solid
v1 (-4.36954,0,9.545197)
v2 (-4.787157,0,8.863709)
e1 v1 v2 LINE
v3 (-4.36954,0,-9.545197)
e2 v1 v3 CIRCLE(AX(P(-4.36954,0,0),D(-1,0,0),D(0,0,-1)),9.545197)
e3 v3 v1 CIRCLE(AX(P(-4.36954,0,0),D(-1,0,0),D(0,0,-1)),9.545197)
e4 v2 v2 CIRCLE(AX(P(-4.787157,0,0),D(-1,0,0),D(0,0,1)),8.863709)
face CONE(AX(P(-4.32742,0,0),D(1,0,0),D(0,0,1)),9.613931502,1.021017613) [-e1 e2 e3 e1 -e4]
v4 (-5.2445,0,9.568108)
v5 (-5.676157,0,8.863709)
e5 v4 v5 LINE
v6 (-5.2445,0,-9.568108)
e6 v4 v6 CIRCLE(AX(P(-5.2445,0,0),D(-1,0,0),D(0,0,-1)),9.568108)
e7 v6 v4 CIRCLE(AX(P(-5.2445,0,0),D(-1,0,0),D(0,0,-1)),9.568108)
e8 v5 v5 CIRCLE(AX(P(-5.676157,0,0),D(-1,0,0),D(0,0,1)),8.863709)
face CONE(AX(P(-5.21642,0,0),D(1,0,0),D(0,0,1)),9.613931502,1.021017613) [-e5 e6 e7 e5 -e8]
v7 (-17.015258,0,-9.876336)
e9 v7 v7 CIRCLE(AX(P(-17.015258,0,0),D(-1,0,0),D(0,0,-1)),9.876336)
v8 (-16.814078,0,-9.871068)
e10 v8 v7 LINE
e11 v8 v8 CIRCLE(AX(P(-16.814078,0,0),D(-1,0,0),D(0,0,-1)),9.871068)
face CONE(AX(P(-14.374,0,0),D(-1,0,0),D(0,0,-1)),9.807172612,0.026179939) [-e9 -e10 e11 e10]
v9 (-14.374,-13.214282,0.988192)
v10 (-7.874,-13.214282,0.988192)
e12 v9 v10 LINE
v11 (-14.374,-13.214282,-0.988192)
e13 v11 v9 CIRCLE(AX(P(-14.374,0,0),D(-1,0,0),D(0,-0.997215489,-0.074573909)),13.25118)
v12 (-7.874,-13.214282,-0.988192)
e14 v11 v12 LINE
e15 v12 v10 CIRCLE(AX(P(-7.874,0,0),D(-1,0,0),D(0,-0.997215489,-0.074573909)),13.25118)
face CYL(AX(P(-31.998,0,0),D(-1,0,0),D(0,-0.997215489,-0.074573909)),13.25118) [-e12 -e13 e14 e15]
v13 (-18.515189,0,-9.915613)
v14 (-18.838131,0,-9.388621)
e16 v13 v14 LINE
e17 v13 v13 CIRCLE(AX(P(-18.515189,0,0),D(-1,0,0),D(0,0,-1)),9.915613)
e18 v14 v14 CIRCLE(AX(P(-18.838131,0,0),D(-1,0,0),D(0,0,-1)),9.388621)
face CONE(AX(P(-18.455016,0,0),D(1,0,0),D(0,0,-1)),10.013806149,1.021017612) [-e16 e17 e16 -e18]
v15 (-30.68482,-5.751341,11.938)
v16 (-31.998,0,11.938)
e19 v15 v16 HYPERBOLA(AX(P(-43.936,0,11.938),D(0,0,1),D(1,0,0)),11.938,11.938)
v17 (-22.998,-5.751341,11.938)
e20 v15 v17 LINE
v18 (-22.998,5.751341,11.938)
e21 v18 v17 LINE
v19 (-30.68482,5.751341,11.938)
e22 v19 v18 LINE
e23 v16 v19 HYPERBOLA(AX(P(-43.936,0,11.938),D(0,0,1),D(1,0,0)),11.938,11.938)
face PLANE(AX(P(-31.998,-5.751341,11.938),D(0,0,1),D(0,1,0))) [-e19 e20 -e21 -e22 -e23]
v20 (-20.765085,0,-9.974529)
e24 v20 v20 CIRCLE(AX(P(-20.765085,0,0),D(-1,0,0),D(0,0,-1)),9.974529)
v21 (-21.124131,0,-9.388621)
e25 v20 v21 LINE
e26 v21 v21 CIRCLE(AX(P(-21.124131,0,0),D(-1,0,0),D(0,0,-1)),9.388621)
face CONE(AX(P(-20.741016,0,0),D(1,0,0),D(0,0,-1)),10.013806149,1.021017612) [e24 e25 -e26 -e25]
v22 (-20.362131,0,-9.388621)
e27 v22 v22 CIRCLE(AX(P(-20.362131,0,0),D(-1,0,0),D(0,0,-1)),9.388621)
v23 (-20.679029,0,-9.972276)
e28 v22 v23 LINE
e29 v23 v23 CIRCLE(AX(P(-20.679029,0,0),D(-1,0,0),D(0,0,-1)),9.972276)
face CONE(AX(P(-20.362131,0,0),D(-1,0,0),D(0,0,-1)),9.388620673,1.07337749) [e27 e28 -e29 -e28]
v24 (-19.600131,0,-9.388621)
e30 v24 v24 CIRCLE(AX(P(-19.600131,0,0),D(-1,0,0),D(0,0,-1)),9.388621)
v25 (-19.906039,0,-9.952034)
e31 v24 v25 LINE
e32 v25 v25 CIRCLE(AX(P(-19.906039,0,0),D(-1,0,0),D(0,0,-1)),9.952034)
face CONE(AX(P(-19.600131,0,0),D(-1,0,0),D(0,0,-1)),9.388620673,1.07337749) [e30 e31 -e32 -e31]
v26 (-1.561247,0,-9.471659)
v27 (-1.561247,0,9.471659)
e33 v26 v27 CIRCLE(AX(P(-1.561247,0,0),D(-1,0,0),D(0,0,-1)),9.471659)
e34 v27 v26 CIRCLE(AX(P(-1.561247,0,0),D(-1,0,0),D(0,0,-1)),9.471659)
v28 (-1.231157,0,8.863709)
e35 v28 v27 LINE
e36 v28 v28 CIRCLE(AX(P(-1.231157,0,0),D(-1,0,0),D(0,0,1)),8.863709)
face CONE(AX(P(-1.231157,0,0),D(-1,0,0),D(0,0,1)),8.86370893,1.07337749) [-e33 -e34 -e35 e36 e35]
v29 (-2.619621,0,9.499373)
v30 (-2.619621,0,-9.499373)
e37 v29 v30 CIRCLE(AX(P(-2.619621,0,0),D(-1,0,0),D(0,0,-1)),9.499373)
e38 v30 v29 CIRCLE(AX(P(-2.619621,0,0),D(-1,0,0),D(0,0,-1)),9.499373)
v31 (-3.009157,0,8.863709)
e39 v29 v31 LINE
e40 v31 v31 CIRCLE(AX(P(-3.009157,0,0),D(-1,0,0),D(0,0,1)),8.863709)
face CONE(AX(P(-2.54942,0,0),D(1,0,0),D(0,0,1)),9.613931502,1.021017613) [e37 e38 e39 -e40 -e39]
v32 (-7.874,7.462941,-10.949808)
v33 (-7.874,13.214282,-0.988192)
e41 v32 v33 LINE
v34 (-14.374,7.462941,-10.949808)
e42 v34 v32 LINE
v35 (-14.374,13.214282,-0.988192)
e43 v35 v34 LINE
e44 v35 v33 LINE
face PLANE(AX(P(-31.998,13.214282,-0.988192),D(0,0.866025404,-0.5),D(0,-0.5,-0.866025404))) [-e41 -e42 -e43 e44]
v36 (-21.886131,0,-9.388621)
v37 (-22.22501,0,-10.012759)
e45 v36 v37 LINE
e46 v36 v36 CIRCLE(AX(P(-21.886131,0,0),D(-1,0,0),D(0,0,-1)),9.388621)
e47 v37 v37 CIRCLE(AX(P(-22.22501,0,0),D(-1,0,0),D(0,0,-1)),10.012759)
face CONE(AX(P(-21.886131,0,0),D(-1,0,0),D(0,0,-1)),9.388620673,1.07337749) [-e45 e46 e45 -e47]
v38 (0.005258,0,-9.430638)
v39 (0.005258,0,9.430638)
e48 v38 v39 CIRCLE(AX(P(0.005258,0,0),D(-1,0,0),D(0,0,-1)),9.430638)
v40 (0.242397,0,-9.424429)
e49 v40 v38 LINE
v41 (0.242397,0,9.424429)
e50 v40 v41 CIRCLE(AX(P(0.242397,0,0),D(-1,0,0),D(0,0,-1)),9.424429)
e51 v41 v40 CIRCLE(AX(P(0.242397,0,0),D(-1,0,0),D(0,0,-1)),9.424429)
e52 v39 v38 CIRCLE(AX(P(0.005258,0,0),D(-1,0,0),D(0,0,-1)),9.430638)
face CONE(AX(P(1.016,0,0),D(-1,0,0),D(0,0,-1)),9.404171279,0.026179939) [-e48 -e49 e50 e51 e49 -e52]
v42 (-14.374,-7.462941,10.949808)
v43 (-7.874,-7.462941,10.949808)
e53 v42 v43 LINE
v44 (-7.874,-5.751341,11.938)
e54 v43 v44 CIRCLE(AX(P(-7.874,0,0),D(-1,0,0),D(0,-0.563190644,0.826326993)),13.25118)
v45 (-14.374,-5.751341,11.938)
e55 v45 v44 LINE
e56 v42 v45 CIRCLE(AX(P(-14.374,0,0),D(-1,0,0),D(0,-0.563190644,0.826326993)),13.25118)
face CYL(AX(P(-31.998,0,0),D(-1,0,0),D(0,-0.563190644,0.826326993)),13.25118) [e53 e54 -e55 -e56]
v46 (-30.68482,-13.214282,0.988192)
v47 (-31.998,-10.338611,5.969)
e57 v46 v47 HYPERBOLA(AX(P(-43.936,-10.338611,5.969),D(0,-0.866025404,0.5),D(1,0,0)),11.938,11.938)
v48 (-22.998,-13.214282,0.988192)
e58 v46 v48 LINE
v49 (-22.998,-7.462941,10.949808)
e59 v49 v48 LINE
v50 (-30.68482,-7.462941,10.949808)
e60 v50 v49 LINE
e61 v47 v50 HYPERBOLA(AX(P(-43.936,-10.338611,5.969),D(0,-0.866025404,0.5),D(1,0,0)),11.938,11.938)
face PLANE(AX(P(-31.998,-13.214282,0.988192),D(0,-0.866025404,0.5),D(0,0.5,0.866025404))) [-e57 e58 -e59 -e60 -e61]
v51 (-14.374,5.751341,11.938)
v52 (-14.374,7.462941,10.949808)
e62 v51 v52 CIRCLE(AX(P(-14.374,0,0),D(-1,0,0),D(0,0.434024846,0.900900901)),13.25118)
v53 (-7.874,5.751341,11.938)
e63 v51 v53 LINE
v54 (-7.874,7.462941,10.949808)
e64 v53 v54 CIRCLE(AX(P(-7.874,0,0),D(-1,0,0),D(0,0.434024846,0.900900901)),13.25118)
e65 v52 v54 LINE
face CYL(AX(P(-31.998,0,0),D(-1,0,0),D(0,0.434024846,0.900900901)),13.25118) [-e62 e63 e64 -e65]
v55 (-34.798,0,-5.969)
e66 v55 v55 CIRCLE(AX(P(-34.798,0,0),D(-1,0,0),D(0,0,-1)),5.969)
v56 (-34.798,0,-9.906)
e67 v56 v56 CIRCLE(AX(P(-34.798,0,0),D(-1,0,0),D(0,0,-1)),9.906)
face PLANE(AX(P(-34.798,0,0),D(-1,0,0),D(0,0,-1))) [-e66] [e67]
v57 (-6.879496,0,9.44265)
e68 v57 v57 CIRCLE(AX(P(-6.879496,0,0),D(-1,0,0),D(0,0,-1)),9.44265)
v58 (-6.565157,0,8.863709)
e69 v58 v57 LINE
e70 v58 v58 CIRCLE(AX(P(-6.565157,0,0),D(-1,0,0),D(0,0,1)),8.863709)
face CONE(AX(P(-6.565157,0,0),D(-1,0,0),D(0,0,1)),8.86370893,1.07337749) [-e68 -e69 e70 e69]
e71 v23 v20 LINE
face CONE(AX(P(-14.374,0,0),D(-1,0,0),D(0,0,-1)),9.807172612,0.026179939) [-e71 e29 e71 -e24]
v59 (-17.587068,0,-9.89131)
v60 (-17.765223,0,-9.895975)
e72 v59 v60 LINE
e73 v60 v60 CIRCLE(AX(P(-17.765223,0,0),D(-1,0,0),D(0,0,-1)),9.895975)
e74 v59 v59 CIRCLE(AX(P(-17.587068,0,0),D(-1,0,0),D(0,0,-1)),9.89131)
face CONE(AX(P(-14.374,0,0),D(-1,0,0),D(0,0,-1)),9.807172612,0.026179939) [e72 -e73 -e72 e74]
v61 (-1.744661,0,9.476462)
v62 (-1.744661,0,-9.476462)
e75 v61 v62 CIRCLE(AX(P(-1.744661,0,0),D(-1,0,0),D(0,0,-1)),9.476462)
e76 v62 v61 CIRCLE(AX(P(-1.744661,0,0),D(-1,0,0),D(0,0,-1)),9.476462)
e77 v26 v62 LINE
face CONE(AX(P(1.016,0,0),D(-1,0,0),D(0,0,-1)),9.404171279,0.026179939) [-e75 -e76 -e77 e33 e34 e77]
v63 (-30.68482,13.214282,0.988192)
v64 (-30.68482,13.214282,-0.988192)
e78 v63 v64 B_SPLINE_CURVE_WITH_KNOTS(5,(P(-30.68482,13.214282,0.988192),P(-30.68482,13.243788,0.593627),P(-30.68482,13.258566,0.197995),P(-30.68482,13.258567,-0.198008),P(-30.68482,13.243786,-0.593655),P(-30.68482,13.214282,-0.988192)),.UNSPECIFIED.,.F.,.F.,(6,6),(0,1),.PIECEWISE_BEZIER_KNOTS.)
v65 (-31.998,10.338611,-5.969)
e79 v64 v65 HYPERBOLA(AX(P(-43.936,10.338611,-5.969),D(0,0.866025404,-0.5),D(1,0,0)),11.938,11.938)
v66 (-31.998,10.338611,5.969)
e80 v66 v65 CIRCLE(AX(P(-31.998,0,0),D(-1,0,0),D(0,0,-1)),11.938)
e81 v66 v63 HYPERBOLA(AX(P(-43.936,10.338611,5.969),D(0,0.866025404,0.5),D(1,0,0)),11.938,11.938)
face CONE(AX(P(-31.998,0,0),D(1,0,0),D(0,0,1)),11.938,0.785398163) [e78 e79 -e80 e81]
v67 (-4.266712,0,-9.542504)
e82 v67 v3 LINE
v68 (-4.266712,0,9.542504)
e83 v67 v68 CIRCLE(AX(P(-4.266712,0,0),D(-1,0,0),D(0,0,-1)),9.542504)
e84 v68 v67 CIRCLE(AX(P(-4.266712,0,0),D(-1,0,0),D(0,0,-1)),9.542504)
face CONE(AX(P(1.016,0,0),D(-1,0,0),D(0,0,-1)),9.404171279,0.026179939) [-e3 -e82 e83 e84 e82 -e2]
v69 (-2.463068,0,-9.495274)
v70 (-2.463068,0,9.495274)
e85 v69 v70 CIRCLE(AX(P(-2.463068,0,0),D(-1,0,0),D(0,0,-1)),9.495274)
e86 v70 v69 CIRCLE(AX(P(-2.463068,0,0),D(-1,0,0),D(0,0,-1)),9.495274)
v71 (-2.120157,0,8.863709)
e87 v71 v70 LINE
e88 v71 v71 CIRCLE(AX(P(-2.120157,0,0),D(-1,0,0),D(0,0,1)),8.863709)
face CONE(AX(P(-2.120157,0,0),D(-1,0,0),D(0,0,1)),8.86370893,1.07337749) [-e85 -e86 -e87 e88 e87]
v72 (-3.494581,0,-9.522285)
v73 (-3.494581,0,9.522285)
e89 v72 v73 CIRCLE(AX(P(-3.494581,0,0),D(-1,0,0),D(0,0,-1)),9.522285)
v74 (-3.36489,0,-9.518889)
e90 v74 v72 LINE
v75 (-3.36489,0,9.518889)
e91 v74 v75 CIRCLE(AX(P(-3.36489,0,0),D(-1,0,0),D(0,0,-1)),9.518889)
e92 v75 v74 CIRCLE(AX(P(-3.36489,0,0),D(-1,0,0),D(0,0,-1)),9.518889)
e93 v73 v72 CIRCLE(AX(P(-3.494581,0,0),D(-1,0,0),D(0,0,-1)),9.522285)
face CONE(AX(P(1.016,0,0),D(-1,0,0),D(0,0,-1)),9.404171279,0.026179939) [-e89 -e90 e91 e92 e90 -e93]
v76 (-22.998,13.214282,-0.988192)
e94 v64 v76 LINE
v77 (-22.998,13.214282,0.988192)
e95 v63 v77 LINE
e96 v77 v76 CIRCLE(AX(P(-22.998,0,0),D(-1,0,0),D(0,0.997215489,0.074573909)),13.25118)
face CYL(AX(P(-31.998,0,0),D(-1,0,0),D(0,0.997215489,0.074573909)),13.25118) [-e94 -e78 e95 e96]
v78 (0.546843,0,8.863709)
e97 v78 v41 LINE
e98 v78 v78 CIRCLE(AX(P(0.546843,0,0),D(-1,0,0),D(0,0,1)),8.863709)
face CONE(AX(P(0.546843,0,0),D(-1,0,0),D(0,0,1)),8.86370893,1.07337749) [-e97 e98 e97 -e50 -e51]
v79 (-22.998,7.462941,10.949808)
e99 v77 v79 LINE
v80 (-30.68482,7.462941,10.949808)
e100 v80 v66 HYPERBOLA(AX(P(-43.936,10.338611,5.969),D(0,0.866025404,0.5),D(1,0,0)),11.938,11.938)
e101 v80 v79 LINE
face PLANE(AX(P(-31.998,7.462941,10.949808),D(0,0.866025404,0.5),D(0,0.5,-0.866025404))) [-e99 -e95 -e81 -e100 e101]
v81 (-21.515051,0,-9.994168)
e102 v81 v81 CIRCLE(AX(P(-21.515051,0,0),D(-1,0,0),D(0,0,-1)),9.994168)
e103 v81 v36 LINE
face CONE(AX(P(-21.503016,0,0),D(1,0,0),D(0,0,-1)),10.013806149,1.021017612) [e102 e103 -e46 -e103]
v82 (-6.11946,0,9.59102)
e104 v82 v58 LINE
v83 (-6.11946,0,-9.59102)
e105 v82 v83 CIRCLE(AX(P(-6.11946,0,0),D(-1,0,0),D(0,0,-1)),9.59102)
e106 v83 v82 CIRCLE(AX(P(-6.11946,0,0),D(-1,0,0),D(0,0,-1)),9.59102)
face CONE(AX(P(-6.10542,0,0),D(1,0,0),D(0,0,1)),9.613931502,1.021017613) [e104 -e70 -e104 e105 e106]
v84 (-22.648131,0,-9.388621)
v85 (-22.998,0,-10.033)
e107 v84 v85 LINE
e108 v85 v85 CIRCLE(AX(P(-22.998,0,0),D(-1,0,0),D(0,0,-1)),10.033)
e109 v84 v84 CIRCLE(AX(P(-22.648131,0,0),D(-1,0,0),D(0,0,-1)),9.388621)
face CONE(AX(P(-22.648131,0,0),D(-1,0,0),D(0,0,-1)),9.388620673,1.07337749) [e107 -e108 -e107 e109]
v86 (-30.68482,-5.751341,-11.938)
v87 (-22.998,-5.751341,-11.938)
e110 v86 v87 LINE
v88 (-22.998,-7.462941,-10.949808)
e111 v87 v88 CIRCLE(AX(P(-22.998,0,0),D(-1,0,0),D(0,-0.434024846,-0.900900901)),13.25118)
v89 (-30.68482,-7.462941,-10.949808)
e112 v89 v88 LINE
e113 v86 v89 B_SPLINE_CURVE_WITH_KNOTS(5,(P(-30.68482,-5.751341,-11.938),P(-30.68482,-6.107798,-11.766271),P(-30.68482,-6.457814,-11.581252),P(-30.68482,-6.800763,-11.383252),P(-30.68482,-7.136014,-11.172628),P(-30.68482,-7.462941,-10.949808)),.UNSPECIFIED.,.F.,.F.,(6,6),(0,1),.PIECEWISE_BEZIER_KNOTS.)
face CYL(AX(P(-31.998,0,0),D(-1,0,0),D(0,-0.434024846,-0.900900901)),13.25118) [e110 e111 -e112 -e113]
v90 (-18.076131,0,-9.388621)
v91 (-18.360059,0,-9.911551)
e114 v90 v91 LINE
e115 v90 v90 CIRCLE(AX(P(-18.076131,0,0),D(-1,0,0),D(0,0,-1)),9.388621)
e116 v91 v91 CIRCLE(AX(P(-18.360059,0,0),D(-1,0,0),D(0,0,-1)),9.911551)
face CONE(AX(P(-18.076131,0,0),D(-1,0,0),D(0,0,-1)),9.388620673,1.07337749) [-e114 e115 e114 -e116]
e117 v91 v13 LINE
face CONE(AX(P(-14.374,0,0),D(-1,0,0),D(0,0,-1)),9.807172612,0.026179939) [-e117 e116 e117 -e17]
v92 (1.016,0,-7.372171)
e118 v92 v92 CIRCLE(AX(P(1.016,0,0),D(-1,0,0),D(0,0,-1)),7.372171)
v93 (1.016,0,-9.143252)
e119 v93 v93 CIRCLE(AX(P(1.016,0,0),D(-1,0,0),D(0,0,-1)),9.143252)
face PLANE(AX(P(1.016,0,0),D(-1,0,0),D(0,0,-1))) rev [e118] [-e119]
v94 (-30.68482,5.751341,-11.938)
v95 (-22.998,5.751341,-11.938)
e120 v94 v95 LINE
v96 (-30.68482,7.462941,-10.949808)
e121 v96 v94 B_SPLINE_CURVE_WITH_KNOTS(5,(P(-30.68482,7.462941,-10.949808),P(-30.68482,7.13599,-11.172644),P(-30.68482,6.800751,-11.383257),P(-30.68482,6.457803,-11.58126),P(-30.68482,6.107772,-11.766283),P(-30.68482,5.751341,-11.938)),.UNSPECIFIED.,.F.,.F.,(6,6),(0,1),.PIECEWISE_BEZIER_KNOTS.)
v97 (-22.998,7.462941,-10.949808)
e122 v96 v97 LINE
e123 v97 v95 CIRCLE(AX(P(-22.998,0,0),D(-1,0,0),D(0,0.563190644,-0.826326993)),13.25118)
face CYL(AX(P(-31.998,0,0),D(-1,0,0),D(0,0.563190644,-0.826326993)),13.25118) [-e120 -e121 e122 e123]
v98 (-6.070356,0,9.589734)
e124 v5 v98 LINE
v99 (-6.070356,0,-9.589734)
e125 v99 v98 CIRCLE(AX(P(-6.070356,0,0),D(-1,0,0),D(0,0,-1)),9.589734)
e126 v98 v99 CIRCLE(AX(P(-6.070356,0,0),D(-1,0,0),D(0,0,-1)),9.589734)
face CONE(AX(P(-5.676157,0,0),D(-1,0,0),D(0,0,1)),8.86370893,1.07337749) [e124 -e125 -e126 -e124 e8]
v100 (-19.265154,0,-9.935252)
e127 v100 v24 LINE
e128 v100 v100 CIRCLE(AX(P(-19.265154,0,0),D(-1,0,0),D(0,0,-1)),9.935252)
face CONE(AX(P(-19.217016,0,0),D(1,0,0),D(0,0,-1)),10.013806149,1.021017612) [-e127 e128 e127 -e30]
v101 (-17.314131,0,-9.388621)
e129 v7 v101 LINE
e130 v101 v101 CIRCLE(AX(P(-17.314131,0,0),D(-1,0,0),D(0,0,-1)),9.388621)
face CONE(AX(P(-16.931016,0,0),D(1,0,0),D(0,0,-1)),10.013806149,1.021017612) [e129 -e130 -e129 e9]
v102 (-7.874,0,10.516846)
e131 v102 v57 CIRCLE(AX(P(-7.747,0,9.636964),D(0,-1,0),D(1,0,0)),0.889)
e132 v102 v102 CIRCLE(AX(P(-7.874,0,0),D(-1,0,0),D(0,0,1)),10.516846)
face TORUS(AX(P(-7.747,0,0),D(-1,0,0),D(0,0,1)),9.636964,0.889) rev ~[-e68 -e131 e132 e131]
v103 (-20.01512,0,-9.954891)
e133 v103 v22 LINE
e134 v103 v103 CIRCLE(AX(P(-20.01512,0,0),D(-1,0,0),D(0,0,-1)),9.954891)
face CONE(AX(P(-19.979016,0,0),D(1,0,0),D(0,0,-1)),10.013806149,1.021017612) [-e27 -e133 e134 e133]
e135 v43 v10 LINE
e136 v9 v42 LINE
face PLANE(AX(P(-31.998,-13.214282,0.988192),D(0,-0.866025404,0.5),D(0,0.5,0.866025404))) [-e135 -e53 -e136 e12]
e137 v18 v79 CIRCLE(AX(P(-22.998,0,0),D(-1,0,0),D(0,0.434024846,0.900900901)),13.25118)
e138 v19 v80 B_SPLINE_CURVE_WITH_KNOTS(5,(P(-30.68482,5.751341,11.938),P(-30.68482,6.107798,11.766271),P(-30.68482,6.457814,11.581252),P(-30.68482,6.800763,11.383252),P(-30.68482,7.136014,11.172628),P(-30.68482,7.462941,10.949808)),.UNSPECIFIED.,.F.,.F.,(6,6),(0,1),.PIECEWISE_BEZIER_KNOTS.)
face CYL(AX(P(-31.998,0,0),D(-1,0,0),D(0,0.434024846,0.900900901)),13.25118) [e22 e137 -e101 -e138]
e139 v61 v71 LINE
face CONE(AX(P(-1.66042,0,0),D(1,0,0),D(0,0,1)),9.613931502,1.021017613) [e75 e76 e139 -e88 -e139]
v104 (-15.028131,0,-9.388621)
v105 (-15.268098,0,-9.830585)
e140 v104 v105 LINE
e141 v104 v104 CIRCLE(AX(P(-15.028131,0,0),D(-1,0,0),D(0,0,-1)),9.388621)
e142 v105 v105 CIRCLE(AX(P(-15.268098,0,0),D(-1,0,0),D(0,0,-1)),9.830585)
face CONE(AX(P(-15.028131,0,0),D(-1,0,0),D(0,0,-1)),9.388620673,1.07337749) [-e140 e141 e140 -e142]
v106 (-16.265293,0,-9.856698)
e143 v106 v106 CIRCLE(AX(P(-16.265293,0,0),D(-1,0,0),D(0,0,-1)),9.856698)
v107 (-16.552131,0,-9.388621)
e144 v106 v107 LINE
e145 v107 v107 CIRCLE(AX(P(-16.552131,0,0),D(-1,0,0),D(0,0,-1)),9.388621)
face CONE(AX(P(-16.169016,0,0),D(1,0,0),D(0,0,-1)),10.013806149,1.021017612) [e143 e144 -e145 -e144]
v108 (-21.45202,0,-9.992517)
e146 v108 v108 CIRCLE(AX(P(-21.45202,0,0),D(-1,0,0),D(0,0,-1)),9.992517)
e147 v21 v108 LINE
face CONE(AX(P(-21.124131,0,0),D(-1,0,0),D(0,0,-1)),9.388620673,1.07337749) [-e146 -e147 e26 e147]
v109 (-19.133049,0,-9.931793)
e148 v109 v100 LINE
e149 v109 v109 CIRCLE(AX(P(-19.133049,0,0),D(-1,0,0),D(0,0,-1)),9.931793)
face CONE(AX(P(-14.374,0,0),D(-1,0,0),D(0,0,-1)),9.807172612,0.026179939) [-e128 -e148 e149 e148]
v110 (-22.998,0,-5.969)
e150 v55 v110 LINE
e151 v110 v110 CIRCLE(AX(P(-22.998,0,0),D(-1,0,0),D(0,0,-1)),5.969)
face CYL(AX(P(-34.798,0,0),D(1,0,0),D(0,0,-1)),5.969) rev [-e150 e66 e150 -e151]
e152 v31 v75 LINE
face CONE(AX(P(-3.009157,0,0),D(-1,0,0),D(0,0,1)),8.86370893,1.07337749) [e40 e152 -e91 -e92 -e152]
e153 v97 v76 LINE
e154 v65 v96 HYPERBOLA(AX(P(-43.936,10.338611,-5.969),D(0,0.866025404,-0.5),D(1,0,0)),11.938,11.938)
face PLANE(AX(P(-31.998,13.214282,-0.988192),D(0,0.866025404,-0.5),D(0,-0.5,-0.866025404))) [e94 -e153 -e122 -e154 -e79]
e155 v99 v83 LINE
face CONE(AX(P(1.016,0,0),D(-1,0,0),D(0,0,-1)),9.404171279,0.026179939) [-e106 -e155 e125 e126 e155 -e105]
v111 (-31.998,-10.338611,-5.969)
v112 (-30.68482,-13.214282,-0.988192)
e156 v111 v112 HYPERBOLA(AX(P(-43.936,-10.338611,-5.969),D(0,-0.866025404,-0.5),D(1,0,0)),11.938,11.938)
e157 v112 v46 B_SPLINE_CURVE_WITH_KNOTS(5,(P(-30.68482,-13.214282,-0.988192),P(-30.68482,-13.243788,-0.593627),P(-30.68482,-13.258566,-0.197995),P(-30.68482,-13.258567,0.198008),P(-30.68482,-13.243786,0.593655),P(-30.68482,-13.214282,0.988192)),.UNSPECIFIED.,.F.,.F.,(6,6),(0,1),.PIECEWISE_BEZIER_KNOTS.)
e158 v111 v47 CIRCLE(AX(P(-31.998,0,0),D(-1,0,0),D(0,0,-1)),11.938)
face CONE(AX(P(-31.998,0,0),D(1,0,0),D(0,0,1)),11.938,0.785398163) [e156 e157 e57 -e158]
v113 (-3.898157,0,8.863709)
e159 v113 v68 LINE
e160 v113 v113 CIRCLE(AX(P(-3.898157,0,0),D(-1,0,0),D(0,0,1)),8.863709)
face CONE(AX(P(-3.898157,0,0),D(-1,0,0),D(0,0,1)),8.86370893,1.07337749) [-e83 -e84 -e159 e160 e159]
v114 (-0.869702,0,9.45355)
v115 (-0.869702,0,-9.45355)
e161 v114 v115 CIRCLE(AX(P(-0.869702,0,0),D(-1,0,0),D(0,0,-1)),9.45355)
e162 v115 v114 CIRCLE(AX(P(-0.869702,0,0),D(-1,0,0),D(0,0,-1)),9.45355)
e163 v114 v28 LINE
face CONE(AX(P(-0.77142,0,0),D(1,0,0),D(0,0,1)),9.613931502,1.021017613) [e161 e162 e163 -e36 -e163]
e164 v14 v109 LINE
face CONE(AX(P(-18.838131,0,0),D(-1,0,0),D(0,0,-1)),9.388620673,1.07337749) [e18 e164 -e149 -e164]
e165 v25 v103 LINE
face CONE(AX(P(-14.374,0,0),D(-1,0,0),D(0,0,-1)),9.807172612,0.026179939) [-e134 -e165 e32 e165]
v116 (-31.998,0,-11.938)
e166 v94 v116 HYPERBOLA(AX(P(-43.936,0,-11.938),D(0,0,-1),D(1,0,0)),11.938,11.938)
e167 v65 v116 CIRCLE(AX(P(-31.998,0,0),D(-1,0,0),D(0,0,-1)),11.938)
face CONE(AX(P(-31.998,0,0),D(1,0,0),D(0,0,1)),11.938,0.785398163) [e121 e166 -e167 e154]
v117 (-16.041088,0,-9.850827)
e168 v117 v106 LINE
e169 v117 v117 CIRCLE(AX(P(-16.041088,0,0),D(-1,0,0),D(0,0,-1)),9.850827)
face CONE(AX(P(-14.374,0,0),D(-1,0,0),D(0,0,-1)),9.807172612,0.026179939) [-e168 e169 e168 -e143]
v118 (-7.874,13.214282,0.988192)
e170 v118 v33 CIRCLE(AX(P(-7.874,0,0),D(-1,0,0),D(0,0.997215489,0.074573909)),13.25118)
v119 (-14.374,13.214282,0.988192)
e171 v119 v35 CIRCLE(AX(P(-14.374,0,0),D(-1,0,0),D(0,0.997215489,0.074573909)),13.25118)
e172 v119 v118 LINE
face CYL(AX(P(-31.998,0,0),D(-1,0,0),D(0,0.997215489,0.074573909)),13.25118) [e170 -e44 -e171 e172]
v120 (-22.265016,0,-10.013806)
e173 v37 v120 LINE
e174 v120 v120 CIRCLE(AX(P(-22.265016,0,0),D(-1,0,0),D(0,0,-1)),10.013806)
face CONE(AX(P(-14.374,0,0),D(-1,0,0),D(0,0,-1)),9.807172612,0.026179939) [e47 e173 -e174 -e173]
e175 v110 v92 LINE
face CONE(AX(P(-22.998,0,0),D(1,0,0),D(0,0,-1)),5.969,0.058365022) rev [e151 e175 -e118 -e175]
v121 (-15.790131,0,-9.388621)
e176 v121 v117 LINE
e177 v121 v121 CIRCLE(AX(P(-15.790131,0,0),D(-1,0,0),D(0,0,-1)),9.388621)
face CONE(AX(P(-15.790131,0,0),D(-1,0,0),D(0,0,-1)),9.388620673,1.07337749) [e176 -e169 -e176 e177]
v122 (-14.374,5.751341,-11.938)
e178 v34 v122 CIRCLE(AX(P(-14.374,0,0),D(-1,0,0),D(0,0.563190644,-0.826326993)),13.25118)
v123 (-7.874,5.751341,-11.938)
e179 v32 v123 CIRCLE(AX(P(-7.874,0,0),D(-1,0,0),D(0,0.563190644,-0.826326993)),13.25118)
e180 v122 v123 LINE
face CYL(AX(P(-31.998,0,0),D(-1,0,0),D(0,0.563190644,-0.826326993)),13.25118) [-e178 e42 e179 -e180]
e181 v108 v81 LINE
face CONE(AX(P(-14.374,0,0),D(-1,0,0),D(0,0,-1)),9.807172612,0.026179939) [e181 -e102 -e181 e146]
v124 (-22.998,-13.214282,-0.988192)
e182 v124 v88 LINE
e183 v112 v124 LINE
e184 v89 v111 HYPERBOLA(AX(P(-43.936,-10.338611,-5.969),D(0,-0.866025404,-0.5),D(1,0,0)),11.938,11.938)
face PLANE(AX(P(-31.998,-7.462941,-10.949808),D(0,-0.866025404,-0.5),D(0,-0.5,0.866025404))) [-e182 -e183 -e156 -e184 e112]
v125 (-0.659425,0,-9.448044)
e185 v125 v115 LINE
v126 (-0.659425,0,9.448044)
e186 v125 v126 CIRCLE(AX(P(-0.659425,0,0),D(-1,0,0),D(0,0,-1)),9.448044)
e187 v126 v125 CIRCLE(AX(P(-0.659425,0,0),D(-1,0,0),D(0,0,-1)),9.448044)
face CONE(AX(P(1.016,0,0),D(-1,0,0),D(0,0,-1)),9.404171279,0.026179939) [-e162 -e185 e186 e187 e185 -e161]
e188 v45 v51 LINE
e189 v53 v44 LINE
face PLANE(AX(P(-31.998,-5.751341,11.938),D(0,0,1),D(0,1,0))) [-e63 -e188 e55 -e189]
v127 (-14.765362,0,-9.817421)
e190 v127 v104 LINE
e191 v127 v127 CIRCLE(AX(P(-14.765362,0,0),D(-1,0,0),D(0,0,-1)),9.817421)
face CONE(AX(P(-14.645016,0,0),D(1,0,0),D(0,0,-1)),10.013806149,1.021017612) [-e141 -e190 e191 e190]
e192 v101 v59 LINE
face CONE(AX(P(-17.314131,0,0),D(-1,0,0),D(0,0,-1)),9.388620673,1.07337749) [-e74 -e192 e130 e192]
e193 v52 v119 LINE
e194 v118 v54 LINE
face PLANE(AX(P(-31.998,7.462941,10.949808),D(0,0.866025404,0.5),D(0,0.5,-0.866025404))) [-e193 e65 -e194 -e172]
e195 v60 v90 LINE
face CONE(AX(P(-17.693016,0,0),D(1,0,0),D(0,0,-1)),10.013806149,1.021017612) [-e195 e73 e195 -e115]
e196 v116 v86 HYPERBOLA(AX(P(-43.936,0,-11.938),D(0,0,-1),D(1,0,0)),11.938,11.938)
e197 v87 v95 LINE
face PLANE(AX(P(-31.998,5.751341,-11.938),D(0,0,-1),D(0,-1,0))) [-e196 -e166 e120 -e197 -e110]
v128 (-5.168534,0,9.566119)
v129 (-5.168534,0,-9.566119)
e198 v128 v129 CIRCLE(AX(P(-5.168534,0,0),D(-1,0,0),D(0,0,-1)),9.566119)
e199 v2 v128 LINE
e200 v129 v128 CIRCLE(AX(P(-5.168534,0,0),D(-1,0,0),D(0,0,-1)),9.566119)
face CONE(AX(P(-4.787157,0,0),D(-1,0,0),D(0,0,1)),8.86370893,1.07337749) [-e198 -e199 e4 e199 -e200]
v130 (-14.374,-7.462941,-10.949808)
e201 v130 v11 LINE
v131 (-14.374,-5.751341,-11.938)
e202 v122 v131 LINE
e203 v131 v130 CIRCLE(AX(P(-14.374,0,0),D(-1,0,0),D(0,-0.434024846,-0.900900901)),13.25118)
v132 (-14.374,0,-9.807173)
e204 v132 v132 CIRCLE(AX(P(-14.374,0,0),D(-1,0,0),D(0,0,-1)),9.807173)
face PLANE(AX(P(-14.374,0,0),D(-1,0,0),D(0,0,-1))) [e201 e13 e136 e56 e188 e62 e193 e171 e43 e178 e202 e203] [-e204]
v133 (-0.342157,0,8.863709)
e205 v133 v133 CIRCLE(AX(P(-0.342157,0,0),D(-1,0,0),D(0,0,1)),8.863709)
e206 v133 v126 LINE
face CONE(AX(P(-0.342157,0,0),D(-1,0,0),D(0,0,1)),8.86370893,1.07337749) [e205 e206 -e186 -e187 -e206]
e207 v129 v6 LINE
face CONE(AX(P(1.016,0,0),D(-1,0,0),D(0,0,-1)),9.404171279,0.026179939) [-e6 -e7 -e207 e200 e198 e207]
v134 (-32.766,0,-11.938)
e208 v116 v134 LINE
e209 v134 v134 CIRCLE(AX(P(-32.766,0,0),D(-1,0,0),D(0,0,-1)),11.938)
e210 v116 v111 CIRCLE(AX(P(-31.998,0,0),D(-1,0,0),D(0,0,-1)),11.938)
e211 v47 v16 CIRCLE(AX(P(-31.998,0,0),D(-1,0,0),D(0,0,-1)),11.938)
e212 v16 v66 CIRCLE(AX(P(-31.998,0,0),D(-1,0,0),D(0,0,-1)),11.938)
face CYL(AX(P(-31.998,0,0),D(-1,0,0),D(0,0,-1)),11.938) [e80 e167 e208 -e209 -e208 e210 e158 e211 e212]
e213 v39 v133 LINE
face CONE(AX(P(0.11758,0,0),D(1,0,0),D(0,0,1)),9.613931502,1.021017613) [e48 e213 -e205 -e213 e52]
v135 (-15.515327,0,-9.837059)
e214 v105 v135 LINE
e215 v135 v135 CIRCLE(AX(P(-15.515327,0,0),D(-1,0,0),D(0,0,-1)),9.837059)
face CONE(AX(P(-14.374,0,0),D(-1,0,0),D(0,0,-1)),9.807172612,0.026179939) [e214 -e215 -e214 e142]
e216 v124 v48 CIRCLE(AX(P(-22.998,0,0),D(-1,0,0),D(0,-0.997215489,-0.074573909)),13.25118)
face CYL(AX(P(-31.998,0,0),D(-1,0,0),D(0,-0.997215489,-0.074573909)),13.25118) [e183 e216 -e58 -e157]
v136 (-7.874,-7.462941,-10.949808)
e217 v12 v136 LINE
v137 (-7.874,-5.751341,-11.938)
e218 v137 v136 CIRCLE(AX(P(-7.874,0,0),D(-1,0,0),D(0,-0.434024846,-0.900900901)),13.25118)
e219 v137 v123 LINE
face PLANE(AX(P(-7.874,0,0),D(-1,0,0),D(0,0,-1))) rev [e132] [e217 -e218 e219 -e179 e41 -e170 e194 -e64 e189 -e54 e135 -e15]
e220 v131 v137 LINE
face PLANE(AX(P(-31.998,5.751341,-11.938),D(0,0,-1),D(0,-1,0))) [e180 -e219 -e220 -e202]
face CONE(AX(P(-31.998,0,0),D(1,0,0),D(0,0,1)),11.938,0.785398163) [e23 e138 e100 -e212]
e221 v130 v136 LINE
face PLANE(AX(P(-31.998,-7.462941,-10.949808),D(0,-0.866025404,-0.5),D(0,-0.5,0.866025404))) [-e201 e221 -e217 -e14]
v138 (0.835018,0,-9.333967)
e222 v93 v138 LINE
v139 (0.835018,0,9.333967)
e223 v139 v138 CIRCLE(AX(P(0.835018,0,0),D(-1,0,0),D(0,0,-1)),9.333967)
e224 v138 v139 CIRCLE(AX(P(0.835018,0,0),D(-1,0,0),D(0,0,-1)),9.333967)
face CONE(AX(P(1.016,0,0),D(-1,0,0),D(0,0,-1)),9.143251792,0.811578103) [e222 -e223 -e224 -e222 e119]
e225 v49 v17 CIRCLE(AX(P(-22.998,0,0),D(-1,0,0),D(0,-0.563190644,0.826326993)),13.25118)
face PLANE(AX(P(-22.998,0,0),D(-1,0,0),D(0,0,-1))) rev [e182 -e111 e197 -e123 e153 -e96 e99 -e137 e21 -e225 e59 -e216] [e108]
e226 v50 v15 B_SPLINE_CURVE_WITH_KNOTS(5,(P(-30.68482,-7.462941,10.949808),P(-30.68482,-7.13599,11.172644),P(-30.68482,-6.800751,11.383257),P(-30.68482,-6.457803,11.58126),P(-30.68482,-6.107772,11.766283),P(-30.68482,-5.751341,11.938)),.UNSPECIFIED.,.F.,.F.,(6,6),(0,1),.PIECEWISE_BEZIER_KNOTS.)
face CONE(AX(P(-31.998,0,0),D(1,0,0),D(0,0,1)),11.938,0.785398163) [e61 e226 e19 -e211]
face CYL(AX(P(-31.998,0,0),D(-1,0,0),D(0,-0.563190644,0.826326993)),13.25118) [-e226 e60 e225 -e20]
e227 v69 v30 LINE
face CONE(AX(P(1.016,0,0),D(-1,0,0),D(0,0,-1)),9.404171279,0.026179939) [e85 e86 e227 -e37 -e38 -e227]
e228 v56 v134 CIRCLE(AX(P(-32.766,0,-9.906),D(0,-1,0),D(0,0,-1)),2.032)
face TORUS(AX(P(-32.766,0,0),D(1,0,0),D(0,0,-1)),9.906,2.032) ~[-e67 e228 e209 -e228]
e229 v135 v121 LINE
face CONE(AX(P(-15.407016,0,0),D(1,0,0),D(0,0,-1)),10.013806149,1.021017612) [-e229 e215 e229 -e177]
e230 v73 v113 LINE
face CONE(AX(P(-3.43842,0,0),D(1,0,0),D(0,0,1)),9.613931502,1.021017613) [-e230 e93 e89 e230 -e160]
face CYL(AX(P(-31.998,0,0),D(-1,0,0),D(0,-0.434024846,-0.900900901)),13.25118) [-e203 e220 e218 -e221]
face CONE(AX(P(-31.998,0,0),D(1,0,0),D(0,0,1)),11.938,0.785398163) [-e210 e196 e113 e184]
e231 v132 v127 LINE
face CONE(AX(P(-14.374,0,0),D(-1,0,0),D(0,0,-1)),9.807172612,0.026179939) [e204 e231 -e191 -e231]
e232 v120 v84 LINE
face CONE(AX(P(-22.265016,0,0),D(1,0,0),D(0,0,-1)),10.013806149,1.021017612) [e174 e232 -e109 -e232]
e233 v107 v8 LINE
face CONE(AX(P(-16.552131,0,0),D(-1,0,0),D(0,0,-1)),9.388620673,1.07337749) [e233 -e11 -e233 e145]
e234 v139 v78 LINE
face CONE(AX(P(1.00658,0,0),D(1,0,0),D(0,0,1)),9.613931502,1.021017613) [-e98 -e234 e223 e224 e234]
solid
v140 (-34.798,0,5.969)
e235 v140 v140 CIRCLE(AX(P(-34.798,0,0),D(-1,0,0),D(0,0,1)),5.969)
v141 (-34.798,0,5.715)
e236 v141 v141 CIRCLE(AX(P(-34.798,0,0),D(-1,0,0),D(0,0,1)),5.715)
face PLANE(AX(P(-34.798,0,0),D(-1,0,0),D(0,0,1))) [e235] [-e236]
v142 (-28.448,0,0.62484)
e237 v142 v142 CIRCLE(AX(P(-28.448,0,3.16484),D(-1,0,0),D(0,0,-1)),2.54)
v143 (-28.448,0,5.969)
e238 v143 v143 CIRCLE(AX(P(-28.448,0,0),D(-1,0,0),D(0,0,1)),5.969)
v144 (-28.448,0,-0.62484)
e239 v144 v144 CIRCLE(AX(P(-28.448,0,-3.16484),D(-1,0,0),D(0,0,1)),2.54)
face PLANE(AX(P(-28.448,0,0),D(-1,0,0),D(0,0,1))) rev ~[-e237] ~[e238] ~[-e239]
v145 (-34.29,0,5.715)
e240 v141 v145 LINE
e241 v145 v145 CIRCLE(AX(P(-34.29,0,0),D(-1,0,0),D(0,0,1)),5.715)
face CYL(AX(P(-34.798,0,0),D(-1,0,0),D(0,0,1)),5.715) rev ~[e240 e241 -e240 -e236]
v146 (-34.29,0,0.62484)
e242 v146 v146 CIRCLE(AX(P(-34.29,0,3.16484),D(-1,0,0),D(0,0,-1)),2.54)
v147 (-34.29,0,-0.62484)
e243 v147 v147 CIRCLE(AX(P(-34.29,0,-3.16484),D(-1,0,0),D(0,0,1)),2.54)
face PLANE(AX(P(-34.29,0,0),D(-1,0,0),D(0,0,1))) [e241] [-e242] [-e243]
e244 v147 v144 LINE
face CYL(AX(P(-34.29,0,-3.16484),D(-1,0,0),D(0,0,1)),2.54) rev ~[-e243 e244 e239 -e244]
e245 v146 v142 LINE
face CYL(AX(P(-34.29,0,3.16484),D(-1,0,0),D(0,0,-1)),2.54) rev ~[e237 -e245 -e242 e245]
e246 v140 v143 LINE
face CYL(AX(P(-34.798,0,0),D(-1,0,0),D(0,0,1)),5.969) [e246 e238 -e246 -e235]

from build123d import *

# Parameters (mm, degrees)
SKETCH12_OUTSIDE_W = 65.04
SKETCH12_OUTSIDE_H = 65.04
CUT_EXTRUDE2_DEPTH = 34.014
FILLET4_R          = 2.032
SKETCH19_OUTSIDE_W = 39.986
SKETCH19_OUTSIDE_H = 42.612
SKETCH19_OUTSIDE_R = 11.938
CUT_EXTRUDE3_DEPTH = 1.999996
CUT_EXTRUDE3_DRAFT = -45
CHAMFER1_SIZE      = 0.260919487
CHAMFER1_SIZE2     = 0.254
SKETCH21_R         = 5.969
PLUG_DEPTH         = 6.35
SKETCH22_R         = 5.715
CUT_EXTRUDE4_DEPTH = 0.508
SKETCH27_R         = 2.54
PLUGHOLES_DEPTH    = 36.306
CIRPATTERN1_COUNT  = 2
LPATTERN1_COUNT    = 11
LPATTERN1_PITCH    = 0.762
LPATTERN2_COUNT    = 10
LPATTERN2_PITCH    = 0.889
SKETCH32_R         = 0.889


with BuildPart() as part:
    # Sketch10 → Revolve2 (revolve)
    with BuildSketch(Plane.XY, mode=Mode.PRIVATE) as revolve2_sk:
        Polygon((-34.798, 5.969), (-22.998, 5.969), (1.016, 7.372171279), (1.016, 9.404171279), (-7.874, 9.636964122), (-7.874, 23.876), (-14.374, 23.876), (-14.374, 9.807172612), (-22.998, 10.033), (-22.998, 23.876), (-31.998, 23.876), (-31.998, 11.938), (-34.798, 11.938), align=None)
    revolve(revolve2_sk.sketch.rotate(Axis((0, 0, 0), (-1, 0, 0)), 90), axis=Axis((0, 0, 0), (-1, 0, 0)))  # turned: the seam where the file's is

    # Sketch12 outside → Cut-Extrude2 (cut, through all)
    with BuildSketch(Plane.ZY.offset(31.998)):
        Rectangle(SKETCH12_OUTSIDE_W, SKETCH12_OUTSIDE_H)
        with BuildLine():
            Line((-0.98819228, 13.214281948), (-10.94980772, 7.462940592))
            ThreePointArc((-10.94980772, 7.462940592), (-11.47585851, 6.62559), (-11.938, 5.751341356))
            Line((-11.938, 5.751341356), (-11.938, -5.751341356))
            ThreePointArc((-11.938, -5.751341356), (-11.47585851, -6.62559), (-10.94980772, -7.462940592))
            Line((-10.94980772, -7.462940592), (-0.98819228, -13.214281948))
            ThreePointArc((-0.98819228, -13.214281948), (0, -13.25118), (0.98819228, -13.214281948))
            Line((0.98819228, -13.214281948), (10.94980772, -7.462940592))
            ThreePointArc((10.94980772, -7.462940592), (11.47585851, -6.62559), (11.938, -5.751341356))
            Line((11.938, -5.751341356), (11.938, 5.751341356))
            ThreePointArc((11.938, 5.751341356), (11.47585851, 6.62559), (10.94980772, 7.462940592))
            Line((10.94980772, 7.462940592), (0.98819228, 13.214281948))
            ThreePointArc((0.98819228, 13.214281948), (0, 13.25118), (-0.98819228, 13.214281948))
        make_face(mode=Mode.SUBTRACT)
    extrude(amount=-CUT_EXTRUDE2_DEPTH, mode=Mode.SUBTRACT)

    # Fillet4
    fillet4_edges = [part.edges().sort_by_distance(p)[0] for p in [
        (-34.798, 0, 11.938),
    ]]
    fillet(fillet4_edges, radius=FILLET4_R)


with BuildPart() as cut_extrude3_tool:
    # Sketch19 outside → Cut-Extrude3 (with draft: the straight prism first)
    with BuildSketch(Plane.ZY.offset(31.998)):
        Rectangle(SKETCH19_OUTSIDE_W, SKETCH19_OUTSIDE_H)
        Circle(SKETCH19_OUTSIDE_R, mode=Mode.SUBTRACT)
    extrude(amount=-CUT_EXTRUDE3_DEPTH)
    # Cut-Extrude3: the draft: its side faces are tilted about the plane it starts from
    cut_extrude3_sides = [cut_extrude3_tool.faces().sort_by_distance(p)[0] for p in [
        (-30.998002, -21.306, 0),
        (-30.998002, 0, 19.993),
        (-30.998002, 21.306, 0),
        (-30.998002, 0, -19.993),
        (-30.998002, 0, -11.938),
    ]]
    draft(cut_extrude3_sides, Plane.ZY.offset(31.998), CUT_EXTRUDE3_DRAFT)


with BuildPart() as part_1:
    add(part.part)

    # Cut-Extrude3: cut by cut_extrude3_tool
    add(cut_extrude3_tool.part, mode=Mode.SUBTRACT)

    # Chamfer1
    chamfer1_edges = [part_1.edges().sort_by_distance(p)[0] for p in [
        (1.016, 0, 9.404171279),
    ]]
    chamfer1_side = [part_1.faces().sort_by_distance(p)[0] for p in [
        (1.016, 0, 7.638161411),
    ]]
    chamfer(chamfer1_edges, length=CHAMFER1_SIZE, length2=CHAMFER1_SIZE2, reference=chamfer1_side[0])

    # Sketch29 → Cut-Revolve1 (revolve, cut)
    with BuildSketch(Plane.XY, mode=Mode.PRIVATE) as cut_revolve1_sk:
        Polygon((-22.998, 10.033), (-22.265016419, 10.013806149), (-22.648130572, 9.388620673), align=None)
    cut_revolve1 = revolve(cut_revolve1_sk.sketch.rotate(Axis((0, 0, 0), (-1, 0, 0)), 90), axis=Axis((0, 0, 0), (-1, 0, 0)), mode=Mode.SUBTRACT)  # turned: the seam where the file's is

    # LPattern1: Cut-Revolve1 ×11
    with Locations(*[(i * LPATTERN1_PITCH, 0, 0) for i in range(1, LPATTERN1_COUNT)]):
        add(cut_revolve1, mode=Mode.SUBTRACT)

    # Sketch30 → Cut-Revolve2 (revolve, cut)
    with BuildSketch(Plane.XY, mode=Mode.PRIVATE) as cut_revolve2_sk:
        Polygon((-7.874, 9.636964122), (-6.994419703, 9.613931502), (-7.454156686, 8.86370893), align=None)
    cut_revolve2 = revolve(cut_revolve2_sk.sketch.rotate(Axis((0, 0, 0), (-1, 0, 0)), 270), axis=Axis((0, 0, 0), (-1, 0, 0)), mode=Mode.SUBTRACT)  # turned: the seam where the file's is

    # LPattern2: Cut-Revolve2 ×10
    with Locations(*[(i * LPATTERN2_PITCH, 0, 0) for i in range(1, LPATTERN2_COUNT)]):
        add(cut_revolve2, mode=Mode.SUBTRACT)

    # Sketch32 → Cut-Revolve3 (revolve, cut)
    with BuildSketch(Plane.XY, mode=Mode.PRIVATE) as cut_revolve3_sk:
        with Locations((-7.747, 9.636964122)):
            Circle(SKETCH32_R)
    revolve(cut_revolve3_sk.sketch.rotate(Axis((0, 0, 0), (-1, 0, 0)), 270), axis=Axis((0, 0, 0), (-1, 0, 0)), mode=Mode.SUBTRACT)  # turned: the seam where the file's is


with BuildPart() as body_2:
    # Sketch21 → plug (new body)
    with BuildSketch(Plane.ZY.offset(34.798)):
        Circle(SKETCH21_R)
    extrude(amount=-PLUG_DEPTH)

    # Sketch22 → Cut-Extrude4 (cut)
    with BuildSketch(Plane.ZY.offset(34.798)):
        Circle(SKETCH22_R)
    extrude(amount=-CUT_EXTRUDE4_DEPTH, mode=Mode.SUBTRACT)

    # Sketch27 → plugholes (cut, through all)
    with BuildSketch(Plane.ZY.offset(34.29)):
        with Locations((-3.16484, 0)):
            Circle(SKETCH27_R)
    plugholes = extrude(amount=-PLUGHOLES_DEPTH, mode=Mode.SUBTRACT)

    # CirPattern1: plugholes ×2 about axis
    cirpattern1_axis = Axis((0, 0, 0), (1, 0, 0))
    for i in range(1, CIRPATTERN1_COUNT):
        add(plugholes.rotate(cirpattern1_axis, i * 360 / CIRPATTERN1_COUNT), mode=Mode.SUBTRACT)


solid = Compound([part_1.part, body_2.part])
